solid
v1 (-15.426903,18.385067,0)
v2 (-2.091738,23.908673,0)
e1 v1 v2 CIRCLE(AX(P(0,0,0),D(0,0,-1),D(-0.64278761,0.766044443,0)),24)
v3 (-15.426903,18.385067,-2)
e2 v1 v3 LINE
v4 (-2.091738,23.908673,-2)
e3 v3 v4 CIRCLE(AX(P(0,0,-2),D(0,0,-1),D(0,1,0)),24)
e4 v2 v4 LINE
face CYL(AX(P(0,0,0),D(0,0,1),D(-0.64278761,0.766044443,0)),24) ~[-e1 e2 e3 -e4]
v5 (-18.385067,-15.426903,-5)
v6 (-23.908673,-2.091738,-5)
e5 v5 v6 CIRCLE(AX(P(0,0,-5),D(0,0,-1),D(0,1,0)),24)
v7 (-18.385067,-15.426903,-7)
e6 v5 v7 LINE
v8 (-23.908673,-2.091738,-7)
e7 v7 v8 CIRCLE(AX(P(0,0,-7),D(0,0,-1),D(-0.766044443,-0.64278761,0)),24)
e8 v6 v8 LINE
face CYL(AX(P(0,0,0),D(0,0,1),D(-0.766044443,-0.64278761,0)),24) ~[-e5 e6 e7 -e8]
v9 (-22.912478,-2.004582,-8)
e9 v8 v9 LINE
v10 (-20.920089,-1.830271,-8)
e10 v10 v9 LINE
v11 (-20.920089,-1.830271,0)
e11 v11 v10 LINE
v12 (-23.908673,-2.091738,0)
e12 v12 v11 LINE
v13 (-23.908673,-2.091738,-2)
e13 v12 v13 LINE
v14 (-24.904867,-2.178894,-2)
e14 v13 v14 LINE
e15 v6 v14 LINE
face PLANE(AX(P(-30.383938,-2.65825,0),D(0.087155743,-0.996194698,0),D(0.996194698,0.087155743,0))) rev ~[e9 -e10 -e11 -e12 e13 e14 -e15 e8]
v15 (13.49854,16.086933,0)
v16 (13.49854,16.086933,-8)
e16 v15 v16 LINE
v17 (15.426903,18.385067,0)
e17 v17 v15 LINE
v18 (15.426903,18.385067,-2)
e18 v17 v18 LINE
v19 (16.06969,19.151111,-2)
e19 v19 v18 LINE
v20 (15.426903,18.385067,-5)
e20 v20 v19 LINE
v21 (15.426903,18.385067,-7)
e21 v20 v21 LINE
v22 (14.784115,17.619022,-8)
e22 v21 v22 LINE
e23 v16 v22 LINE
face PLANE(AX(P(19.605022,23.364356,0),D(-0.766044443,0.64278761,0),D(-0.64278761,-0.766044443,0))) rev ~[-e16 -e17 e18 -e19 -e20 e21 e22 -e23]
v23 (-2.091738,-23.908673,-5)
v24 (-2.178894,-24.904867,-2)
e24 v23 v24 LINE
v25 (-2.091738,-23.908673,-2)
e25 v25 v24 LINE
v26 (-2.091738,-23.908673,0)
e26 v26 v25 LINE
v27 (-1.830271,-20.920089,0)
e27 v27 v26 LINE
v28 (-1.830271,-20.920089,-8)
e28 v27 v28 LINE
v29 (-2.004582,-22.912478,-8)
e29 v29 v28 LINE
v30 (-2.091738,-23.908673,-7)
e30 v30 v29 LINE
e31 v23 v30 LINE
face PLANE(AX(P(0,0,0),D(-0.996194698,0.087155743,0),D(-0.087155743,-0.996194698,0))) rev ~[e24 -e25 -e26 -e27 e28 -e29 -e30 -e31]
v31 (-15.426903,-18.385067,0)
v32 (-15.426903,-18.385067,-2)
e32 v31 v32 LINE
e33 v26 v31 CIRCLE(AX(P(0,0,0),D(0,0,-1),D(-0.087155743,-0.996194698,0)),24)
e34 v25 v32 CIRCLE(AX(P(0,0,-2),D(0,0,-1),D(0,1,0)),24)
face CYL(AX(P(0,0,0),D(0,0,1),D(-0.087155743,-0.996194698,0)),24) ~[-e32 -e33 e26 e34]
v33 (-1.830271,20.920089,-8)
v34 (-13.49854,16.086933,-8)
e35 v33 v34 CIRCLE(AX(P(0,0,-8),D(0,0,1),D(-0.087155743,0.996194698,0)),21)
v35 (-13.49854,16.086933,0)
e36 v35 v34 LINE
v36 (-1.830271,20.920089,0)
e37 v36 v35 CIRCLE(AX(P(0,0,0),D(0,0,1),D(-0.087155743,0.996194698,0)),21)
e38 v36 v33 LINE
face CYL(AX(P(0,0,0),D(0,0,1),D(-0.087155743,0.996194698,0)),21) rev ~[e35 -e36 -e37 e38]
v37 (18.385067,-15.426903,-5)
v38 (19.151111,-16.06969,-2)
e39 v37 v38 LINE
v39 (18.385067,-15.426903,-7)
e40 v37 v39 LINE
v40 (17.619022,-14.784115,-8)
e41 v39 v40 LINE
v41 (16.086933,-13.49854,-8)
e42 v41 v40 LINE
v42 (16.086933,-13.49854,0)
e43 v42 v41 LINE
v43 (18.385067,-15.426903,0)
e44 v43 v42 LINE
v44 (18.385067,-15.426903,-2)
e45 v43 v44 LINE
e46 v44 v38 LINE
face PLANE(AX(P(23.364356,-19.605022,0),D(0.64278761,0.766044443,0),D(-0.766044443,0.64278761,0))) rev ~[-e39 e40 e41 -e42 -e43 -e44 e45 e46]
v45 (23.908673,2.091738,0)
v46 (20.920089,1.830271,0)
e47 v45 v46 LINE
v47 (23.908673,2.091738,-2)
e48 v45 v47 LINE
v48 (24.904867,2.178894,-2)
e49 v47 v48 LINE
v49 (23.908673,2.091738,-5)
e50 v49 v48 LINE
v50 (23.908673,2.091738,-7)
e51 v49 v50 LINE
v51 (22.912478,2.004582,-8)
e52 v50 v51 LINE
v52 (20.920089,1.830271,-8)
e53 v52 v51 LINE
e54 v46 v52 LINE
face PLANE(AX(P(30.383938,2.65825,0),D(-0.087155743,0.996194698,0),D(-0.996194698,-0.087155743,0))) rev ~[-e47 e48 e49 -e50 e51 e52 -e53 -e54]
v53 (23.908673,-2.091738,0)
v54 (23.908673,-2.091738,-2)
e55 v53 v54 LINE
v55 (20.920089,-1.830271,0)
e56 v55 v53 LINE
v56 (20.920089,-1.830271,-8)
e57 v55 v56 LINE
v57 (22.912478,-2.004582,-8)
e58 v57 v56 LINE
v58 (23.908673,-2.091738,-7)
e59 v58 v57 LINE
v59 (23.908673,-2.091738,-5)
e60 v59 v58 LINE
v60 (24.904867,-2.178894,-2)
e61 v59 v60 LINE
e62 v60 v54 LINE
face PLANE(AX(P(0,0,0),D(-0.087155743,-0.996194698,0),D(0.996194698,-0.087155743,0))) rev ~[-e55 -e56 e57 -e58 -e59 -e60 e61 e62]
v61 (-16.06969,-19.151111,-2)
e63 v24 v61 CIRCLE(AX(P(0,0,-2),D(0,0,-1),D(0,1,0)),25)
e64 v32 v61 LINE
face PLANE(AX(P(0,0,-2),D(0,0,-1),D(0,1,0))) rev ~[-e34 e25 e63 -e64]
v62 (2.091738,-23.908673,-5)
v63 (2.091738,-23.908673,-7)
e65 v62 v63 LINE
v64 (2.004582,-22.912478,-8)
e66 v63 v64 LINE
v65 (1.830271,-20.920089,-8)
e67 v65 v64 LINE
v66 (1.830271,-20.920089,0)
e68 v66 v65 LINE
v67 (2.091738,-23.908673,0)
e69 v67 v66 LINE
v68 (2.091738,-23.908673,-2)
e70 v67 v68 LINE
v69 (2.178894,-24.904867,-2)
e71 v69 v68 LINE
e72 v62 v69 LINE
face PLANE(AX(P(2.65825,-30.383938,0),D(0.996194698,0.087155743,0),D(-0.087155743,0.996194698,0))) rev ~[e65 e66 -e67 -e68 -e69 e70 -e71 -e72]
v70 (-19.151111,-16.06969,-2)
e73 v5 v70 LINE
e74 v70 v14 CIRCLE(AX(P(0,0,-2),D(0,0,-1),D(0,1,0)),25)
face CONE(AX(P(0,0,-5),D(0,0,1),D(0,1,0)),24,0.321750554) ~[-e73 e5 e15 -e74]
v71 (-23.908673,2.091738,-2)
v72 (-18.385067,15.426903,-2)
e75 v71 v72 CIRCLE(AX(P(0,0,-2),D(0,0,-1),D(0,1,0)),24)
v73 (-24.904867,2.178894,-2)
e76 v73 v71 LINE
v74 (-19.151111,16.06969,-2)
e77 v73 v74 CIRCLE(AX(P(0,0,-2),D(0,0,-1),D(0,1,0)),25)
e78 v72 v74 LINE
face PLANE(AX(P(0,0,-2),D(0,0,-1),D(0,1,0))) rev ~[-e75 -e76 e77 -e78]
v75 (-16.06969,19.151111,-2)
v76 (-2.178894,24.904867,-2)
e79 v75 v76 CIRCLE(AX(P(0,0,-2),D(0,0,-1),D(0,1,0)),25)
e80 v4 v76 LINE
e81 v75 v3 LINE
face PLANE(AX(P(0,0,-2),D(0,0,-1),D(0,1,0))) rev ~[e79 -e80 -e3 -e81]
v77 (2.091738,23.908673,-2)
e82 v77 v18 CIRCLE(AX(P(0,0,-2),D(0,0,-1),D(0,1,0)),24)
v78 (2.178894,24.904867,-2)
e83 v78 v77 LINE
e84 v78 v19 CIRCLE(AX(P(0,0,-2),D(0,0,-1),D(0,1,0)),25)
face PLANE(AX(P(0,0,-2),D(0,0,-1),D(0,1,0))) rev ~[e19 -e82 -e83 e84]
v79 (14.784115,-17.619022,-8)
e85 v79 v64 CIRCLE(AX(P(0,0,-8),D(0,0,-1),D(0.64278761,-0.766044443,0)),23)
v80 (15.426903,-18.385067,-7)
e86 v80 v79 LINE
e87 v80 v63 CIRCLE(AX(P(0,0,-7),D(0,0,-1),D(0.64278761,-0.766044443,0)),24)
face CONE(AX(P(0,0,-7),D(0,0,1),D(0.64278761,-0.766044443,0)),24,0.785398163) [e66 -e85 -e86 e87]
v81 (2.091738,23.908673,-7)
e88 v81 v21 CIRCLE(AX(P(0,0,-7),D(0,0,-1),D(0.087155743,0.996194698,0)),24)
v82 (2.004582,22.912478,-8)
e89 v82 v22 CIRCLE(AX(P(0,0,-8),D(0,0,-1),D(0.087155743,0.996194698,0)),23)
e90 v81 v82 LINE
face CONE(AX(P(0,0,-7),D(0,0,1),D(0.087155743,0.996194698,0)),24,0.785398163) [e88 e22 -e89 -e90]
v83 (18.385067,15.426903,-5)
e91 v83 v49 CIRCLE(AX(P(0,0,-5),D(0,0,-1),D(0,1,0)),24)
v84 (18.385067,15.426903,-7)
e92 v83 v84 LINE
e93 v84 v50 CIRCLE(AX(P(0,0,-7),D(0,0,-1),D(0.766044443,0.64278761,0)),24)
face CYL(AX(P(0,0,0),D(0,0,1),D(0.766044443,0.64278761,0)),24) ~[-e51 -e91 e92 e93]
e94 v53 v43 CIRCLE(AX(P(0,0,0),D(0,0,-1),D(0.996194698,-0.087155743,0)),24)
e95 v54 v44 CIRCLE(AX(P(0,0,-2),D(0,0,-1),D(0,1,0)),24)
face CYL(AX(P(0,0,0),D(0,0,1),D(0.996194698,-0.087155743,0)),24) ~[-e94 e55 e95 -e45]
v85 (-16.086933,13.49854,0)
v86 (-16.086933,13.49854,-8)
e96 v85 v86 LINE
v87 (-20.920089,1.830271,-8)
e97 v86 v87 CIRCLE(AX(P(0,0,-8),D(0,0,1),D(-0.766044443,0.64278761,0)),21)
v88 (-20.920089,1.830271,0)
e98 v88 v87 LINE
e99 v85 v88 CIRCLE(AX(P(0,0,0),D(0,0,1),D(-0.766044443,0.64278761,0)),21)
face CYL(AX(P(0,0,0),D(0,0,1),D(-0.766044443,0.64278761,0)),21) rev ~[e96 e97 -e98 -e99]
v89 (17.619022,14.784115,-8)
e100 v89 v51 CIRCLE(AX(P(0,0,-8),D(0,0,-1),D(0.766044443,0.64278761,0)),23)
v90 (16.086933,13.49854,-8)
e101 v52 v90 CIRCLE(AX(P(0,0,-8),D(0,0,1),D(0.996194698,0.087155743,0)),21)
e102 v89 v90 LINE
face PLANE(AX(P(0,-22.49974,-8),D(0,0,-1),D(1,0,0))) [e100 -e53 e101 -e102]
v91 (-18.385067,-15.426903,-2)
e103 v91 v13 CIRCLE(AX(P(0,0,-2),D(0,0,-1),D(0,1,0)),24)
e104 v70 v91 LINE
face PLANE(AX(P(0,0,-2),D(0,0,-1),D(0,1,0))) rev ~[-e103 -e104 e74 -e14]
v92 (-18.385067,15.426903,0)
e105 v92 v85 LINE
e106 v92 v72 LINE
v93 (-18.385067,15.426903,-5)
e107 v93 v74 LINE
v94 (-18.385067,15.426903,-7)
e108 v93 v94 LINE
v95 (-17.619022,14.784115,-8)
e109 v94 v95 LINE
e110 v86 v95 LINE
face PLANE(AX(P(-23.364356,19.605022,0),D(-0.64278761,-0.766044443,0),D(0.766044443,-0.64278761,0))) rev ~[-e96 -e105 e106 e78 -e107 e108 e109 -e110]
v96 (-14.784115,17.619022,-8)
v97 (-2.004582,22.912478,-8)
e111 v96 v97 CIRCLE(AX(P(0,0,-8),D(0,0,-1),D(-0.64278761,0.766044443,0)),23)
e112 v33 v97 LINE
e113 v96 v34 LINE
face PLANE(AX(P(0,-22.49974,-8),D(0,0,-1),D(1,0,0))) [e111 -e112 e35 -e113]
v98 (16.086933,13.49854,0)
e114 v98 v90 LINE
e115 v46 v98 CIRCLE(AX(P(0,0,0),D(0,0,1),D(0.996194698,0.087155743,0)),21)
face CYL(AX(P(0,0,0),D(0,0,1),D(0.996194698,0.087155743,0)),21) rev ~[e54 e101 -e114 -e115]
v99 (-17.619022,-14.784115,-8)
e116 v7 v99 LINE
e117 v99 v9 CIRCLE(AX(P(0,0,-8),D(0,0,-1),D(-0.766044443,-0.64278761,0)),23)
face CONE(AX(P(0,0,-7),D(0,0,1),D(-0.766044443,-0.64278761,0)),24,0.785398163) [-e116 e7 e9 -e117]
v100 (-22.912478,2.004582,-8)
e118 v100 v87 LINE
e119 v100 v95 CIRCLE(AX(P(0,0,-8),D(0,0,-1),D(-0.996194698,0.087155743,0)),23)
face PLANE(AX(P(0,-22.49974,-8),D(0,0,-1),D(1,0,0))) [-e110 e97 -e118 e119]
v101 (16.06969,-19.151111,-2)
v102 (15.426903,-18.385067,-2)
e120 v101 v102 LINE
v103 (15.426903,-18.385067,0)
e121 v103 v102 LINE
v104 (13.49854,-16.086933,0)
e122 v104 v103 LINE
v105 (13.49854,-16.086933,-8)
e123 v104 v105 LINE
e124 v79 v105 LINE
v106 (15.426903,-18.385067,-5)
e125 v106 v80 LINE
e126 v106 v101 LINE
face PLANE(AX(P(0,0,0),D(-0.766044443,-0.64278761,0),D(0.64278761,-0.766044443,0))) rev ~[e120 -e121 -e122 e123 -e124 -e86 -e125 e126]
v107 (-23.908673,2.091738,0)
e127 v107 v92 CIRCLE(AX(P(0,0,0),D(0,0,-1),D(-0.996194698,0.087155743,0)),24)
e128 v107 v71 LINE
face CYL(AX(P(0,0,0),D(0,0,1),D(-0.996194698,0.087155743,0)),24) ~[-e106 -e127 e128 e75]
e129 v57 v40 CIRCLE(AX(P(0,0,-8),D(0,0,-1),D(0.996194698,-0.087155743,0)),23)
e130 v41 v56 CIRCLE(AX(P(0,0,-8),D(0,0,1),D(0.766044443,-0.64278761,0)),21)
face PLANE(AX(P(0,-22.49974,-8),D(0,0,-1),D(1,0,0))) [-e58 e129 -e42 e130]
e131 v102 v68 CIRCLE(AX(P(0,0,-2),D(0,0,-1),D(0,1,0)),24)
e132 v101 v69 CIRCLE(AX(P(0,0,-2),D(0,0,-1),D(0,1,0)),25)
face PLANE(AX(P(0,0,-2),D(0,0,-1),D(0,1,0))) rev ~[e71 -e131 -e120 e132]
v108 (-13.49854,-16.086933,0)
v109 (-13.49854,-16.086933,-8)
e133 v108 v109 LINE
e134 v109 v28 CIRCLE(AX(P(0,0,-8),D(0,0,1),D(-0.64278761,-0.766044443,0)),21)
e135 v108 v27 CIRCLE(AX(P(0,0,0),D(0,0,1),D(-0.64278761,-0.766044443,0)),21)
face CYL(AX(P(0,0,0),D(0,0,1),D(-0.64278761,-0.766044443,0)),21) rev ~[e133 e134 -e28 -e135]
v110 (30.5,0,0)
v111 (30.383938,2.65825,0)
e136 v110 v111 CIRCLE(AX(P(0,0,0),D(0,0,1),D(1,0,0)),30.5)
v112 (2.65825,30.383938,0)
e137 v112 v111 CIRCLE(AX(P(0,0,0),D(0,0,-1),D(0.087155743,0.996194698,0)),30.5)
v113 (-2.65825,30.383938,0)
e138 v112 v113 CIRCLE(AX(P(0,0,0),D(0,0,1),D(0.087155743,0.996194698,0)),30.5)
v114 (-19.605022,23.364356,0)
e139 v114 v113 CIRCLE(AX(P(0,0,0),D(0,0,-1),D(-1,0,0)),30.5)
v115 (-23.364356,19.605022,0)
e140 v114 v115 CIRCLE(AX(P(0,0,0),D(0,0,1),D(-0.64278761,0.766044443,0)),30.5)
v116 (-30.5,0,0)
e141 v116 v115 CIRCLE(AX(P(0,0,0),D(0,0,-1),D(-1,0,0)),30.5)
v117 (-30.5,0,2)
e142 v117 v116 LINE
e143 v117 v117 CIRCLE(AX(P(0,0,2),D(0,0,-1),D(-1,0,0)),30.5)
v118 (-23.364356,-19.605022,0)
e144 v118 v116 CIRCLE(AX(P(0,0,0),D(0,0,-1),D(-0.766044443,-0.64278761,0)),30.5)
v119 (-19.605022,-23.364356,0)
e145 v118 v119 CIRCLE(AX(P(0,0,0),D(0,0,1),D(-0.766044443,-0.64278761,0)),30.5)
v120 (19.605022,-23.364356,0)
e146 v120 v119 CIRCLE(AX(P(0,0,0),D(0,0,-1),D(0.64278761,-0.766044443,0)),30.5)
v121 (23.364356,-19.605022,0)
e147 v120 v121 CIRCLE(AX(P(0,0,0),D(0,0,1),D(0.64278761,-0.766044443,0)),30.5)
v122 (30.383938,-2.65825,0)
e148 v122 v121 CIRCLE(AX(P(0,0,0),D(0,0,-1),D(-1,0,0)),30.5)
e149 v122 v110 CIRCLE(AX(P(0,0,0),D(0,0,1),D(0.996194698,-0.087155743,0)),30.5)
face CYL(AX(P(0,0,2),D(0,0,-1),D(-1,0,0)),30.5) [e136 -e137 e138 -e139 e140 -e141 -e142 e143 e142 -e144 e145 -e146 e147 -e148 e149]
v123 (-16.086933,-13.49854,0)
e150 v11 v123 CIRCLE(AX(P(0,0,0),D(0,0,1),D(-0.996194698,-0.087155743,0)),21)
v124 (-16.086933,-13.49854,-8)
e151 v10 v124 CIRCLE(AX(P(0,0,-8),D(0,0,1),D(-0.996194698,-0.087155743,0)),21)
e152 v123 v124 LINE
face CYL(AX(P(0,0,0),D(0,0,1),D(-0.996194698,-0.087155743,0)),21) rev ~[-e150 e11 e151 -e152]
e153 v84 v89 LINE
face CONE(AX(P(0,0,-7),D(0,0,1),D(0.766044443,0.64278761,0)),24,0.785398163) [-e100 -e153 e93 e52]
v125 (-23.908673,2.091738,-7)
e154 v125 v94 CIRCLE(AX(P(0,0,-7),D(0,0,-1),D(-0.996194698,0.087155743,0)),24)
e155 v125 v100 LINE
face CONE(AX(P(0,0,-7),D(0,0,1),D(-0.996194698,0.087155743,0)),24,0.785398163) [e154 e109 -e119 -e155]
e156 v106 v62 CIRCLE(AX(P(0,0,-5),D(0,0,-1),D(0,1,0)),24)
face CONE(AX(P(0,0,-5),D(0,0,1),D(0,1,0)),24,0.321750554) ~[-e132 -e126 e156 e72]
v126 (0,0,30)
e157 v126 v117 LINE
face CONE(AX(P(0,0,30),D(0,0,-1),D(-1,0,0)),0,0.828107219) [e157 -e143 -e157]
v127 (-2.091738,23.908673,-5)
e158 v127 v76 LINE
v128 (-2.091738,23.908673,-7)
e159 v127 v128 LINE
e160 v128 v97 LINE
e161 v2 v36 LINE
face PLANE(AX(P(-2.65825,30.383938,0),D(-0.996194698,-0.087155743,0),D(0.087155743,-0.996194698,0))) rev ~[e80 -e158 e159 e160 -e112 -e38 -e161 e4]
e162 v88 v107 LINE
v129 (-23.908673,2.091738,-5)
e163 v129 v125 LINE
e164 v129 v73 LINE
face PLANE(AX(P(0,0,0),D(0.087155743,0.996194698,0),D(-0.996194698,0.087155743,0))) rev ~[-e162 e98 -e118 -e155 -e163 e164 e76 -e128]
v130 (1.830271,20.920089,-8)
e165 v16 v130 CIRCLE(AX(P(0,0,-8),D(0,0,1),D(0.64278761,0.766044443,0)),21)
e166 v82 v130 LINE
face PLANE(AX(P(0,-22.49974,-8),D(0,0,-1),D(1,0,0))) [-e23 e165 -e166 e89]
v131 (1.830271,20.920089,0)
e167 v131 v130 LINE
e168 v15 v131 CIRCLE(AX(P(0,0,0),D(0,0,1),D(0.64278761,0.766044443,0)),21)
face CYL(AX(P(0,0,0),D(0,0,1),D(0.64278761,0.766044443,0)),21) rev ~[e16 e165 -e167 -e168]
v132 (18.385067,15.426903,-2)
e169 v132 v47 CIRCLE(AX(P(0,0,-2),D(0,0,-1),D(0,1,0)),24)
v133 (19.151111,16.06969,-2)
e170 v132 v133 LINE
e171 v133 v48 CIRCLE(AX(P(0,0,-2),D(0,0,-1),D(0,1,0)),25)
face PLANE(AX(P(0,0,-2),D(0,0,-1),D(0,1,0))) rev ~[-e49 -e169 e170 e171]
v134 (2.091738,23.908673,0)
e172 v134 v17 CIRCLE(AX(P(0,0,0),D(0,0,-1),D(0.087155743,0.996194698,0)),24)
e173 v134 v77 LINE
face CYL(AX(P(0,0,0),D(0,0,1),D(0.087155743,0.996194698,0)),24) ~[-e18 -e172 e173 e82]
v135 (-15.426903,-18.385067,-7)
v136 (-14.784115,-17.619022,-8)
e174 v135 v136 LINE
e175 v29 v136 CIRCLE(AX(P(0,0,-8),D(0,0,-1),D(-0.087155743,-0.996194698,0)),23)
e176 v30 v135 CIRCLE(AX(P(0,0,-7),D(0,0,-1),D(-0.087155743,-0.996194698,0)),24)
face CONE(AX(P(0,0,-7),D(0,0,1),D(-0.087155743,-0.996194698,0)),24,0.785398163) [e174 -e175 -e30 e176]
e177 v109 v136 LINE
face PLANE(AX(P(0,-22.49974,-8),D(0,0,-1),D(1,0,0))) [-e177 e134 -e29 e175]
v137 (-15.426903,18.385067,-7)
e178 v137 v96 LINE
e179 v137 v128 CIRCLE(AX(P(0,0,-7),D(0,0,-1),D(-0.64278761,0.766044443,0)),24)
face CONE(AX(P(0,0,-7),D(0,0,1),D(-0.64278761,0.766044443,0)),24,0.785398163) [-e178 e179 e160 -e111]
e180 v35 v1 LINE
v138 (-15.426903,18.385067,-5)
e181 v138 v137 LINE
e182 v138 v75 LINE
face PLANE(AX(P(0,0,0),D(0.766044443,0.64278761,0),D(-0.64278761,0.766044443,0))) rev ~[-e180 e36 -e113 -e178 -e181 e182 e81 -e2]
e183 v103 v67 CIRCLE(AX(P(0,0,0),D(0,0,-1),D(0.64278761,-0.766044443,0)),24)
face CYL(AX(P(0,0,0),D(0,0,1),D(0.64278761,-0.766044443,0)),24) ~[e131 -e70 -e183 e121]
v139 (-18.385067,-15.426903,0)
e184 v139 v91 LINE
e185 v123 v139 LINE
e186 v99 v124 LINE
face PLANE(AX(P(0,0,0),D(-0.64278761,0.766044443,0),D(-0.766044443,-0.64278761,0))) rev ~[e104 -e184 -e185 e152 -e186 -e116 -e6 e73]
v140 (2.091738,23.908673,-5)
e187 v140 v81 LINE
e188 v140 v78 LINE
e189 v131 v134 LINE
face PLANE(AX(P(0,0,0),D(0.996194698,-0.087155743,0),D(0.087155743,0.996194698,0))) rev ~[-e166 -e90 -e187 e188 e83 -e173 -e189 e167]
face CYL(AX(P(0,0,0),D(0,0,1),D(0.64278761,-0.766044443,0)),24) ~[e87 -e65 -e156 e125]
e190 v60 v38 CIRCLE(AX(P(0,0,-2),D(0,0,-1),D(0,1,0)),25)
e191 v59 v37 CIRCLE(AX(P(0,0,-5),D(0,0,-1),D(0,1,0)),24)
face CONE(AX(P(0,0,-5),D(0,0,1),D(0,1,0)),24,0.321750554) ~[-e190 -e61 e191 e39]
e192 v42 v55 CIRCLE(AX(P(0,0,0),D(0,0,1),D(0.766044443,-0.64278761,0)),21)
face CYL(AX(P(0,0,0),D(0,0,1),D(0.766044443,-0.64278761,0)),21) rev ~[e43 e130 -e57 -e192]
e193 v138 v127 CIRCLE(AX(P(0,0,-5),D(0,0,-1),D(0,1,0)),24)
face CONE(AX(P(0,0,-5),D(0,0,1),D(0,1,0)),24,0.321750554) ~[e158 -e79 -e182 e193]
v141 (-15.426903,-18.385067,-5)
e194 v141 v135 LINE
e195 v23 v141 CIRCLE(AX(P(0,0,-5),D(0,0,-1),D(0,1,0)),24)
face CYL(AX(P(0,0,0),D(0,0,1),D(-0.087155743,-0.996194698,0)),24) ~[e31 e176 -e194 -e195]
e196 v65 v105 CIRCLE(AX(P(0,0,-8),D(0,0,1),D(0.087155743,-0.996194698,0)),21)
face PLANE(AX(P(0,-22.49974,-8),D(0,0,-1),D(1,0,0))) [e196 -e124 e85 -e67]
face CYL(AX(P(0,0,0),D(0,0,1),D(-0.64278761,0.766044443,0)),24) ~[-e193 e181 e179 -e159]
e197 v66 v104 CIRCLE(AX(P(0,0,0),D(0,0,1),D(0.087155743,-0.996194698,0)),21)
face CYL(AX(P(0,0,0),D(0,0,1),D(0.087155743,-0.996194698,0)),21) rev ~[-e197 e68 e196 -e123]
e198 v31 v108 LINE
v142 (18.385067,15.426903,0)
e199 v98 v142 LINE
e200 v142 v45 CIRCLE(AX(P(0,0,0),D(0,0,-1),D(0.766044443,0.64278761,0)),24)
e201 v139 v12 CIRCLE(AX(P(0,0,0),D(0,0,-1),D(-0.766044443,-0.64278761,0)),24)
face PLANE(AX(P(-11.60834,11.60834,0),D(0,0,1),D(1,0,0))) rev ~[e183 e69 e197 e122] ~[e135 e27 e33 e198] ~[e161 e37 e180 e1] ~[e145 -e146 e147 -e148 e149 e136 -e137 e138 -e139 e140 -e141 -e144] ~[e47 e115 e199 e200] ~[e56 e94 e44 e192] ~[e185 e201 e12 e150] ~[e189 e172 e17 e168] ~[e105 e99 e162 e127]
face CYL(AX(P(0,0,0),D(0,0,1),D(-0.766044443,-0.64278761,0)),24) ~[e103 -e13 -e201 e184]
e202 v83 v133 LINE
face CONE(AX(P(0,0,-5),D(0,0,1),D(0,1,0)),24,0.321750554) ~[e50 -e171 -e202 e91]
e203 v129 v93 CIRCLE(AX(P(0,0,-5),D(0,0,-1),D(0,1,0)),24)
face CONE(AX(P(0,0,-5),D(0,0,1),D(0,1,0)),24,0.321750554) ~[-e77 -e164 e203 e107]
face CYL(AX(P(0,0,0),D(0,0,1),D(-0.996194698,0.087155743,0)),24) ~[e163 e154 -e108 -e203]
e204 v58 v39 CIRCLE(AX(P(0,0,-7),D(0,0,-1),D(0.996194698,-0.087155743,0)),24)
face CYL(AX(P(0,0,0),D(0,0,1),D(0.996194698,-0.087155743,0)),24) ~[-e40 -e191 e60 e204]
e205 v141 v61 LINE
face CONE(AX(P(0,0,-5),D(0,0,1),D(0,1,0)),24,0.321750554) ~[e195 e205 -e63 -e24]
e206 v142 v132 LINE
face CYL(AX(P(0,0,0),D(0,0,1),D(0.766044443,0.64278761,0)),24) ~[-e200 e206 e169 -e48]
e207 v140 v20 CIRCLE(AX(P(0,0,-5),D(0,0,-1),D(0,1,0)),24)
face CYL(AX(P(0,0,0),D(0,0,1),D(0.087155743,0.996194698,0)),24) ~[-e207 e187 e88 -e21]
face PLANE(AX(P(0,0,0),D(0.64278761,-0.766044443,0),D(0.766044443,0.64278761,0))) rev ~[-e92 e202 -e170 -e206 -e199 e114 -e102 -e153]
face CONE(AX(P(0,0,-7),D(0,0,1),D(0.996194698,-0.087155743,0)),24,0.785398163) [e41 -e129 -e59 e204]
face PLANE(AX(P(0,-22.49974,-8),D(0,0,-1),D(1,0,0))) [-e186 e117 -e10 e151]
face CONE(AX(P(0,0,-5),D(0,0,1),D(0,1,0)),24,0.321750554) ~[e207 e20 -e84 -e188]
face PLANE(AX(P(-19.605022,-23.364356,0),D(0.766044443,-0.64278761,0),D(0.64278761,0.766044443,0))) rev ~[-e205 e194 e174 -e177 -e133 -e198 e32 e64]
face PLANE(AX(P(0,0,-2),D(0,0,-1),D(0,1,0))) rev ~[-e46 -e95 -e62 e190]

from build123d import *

# Parameters (mm, degrees)
F5_DEPTH  = 8
F6_SIZE   = 1
F10_DEPTH = 25


with BuildPart() as f3:
    # F2 (on Front) → F3 (revolve)
    with BuildSketch(Plane.XZ):
        Polygon((-30.5, 2), (-30.5, 0), (0, 0), (0, 30), align=None)
    revolve(axis=Axis((0, 0, 4.0188357234), (0, 0, -1)))

    # F4 (on face) → F5 (join)
    with BuildSketch(Plane(origin=(0, 0, 0), x_dir=(1, 0, 0), z_dir=(0, 0, -1))):
        with BuildLine():
            Line((1.8302705977, 20.9200886599), (2.0917378259, 23.9086727542))
            ThreePointArc((2.0917378259, 23.9086727542), (0, 24), (-2.0917378259, 23.9086727542))
            Line((-2.0917378259, 23.9086727542), (-1.8302705977, 20.9200886599))
            ThreePointArc((-1.8302705977, 20.9200886599), (0, 21), (1.8302705977, 20.9200886599))
        make_face()
        with BuildLine():
            Line((13.4985398034, 16.0869333055), (15.4269026325, 18.3850666349))
            ThreePointArc((15.4269026325, 18.3850666349), (9.1844023768, 22.1731087803), (2.0917378259, 23.9086727542))
            Line((2.0917378259, 23.9086727542), (1.8302705977, 20.9200886599))
            ThreePointArc((1.8302705977, 20.9200886599), (8.0363520797, 19.4014701827), (13.4985398034, 16.0869333055))
        make_face()
        with BuildLine():
            Line((16.0869333055, 13.4985398034), (18.3850666349, 15.4269026325))
            ThreePointArc((18.3850666349, 15.4269026325), (16.9705627485, 16.9705627485), (15.4269026325, 18.3850666349))
            Line((15.4269026325, 18.3850666349), (13.4985398034, 16.0869333055))
            ThreePointArc((13.4985398034, 16.0869333055), (14.8492424049, 14.8492424049), (16.0869333055, 13.4985398034))
        make_face()
        with BuildLine():
            Line((20.9200886599, 1.8302705977), (23.9086727542, 2.0917378259))
            ThreePointArc((23.9086727542, 2.0917378259), (22.1731087803, 9.1844023768), (18.3850666349, 15.4269026325))
            Line((18.3850666349, 15.4269026325), (16.0869333055, 13.4985398034))
            ThreePointArc((16.0869333055, 13.4985398034), (19.4014701827, 8.0363520797), (20.9200886599, 1.8302705977))
        make_face()
        with BuildLine():
            ThreePointArc((23.9086727542, -2.0917378259), (23.977157318, -1.0468652968), (24, 0))
            ThreePointArc((24, 0), (23.977157318, 1.0468652968), (23.9086727542, 2.0917378259))
            Line((23.9086727542, 2.0917378259), (20.9200886599, 1.8302705977))
            ThreePointArc((20.9200886599, 1.8302705977), (20.9800126532, 0.9160071347), (21, 0))
            ThreePointArc((21, 0), (20.9800126532, -0.9160071347), (20.9200886599, -1.8302705977))
            Line((20.9200886599, -1.8302705977), (23.9086727542, -2.0917378259))
        make_face()
        with BuildLine():
            ThreePointArc((18.3850666349, -15.4269026325), (22.1731087803, -9.1844023768), (23.9086727542, -2.0917378259))
            Line((23.9086727542, -2.0917378259), (20.9200886599, -1.8302705977))
            ThreePointArc((20.9200886599, -1.8302705977), (19.4014701827, -8.0363520797), (16.0869333055, -13.4985398034))
            Line((16.0869333055, -13.4985398034), (18.3850666349, -15.4269026325))
        make_face()
        with BuildLine():
            ThreePointArc((15.4269026325, -18.3850666349), (16.9705627485, -16.9705627485), (18.3850666349, -15.4269026325))
            Line((18.3850666349, -15.4269026325), (16.0869333055, -13.4985398034))
            ThreePointArc((16.0869333055, -13.4985398034), (14.8492424049, -14.8492424049), (13.4985398034, -16.0869333055))
            Line((13.4985398034, -16.0869333055), (15.4269026325, -18.3850666349))
        make_face()
        with BuildLine():
            ThreePointArc((2.0917378259, -23.9086727542), (9.1844023768, -22.1731087803), (15.4269026325, -18.3850666349))
            Line((15.4269026325, -18.3850666349), (13.4985398034, -16.0869333055))
            ThreePointArc((13.4985398034, -16.0869333055), (8.0363520797, -19.4014701827), (1.8302705977, -20.9200886599))
            Line((1.8302705977, -20.9200886599), (2.0917378259, -23.9086727542))
        make_face()
        with BuildLine():
            ThreePointArc((-2.0917378259, -23.9086727542), (0, -24), (2.0917378259, -23.9086727542))
            Line((2.0917378259, -23.9086727542), (1.8302705977, -20.9200886599))
            ThreePointArc((1.8302705977, -20.9200886599), (0, -21), (-1.8302705977, -20.9200886599))
            Line((-1.8302705977, -20.9200886599), (-2.0917378259, -23.9086727542))
        make_face()
        with BuildLine():
            ThreePointArc((-15.4269026325, -18.3850666349), (-9.1844023768, -22.1731087803), (-2.0917378259, -23.9086727542))
            Line((-2.0917378259, -23.9086727542), (-1.8302705977, -20.9200886599))
            ThreePointArc((-1.8302705977, -20.9200886599), (-8.0363520797, -19.4014701827), (-13.4985398034, -16.0869333055))
            Line((-13.4985398034, -16.0869333055), (-15.4269026325, -18.3850666349))
        make_face()
        with BuildLine():
            ThreePointArc((-18.3850666349, -15.4269026325), (-16.9705627485, -16.9705627485), (-15.4269026325, -18.3850666349))
            Line((-15.4269026325, -18.3850666349), (-13.4985398034, -16.0869333055))
            ThreePointArc((-13.4985398034, -16.0869333055), (-14.8492424049, -14.8492424049), (-16.0869333055, -13.4985398034))
            Line((-16.0869333055, -13.4985398034), (-18.3850666349, -15.4269026325))
        make_face()
        with BuildLine():
            ThreePointArc((-23.9086727542, -2.0917378259), (-22.1731087803, -9.1844023768), (-18.3850666349, -15.4269026325))
            Line((-18.3850666349, -15.4269026325), (-16.0869333055, -13.4985398034))
            ThreePointArc((-16.0869333055, -13.4985398034), (-19.4014701827, -8.0363520797), (-20.9200886599, -1.8302705977))
            Line((-20.9200886599, -1.8302705977), (-23.9086727542, -2.0917378259))
        make_face()
        with BuildLine():
            Line((-20.9200886599, 1.8302705977), (-23.9086727542, 2.0917378259))
            ThreePointArc((-23.9086727542, 2.0917378259), (-24, 0), (-23.9086727542, -2.0917378259))
            Line((-23.9086727542, -2.0917378259), (-20.9200886599, -1.8302705977))
            ThreePointArc((-20.9200886599, -1.8302705977), (-21, 0), (-20.9200886599, 1.8302705977))
        make_face()
        with BuildLine():
            Line((-16.0869333055, 13.4985398034), (-18.3850666349, 15.4269026325))
            ThreePointArc((-18.3850666349, 15.4269026325), (-22.1731087803, 9.1844023768), (-23.9086727542, 2.0917378259))
            Line((-23.9086727542, 2.0917378259), (-20.9200886599, 1.8302705977))
            ThreePointArc((-20.9200886599, 1.8302705977), (-19.4014701827, 8.0363520797), (-16.0869333055, 13.4985398034))
        make_face()
        with BuildLine():
            Line((-13.4985398034, 16.0869333055), (-15.4269026325, 18.3850666349))
            ThreePointArc((-15.4269026325, 18.3850666349), (-16.9705627485, 16.9705627485), (-18.3850666349, 15.4269026325))
            Line((-18.3850666349, 15.4269026325), (-16.0869333055, 13.4985398034))
            ThreePointArc((-16.0869333055, 13.4985398034), (-14.8492424049, 14.8492424049), (-13.4985398034, 16.0869333055))
        make_face()
        with BuildLine():
            Line((-1.8302705977, 20.9200886599), (-2.0917378259, 23.9086727542))
            ThreePointArc((-2.0917378259, 23.9086727542), (-9.1844023768, 22.1731087803), (-15.4269026325, 18.3850666349))
            Line((-15.4269026325, 18.3850666349), (-13.4985398034, 16.0869333055))
            ThreePointArc((-13.4985398034, 16.0869333055), (-8.0363520797, 19.4014701827), (-1.8302705977, 20.9200886599))
        make_face()
    extrude(amount=F5_DEPTH)

    # F6
    f6_edges = [f3.edges().sort_by_distance(p)[0] for p in [
        (2.091738, 23.908673, -8),
    ]]
    chamfer(f6_edges, length=F6_SIZE)

    # F7 (on Right) → F8 (revolve)
    with BuildSketch(Plane.YZ):
        Polygon((25, -2), (24, -2), (24, -5), align=None)
    revolve(axis=Axis((0, 0, 4.0188357234), (0, 0, -1)))

    # F9 (on Top) + F4 (on face) → F10 (cut)
    with BuildSketch(Plane.XY):
        with BuildLine():
            Line((-23.3643555151, 19.6050220954), (0, 0))
            Line((0, 0), (-19.6050220954, 23.3643555151))
            ThreePointArc((-19.6050220954, 23.3643555151), (-21.5667568262, 21.5667568262), (-23.3643555151, 19.6050220954))
        make_face()
        with BuildLine():
            Line((0, 0), (-30.3839382918, 2.6582501538))
            ThreePointArc((-30.3839382918, 2.6582501538), (-30.5, 0), (-30.3839382918, -2.6582501538))
            Line((-30.3839382918, -2.6582501538), (0, 0))
        make_face()
        with BuildLine():
            Line((-19.6050220954, -23.3643555151), (0, 0))
            Line((0, 0), (-23.3643555151, -19.6050220954))
            ThreePointArc((-23.3643555151, -19.6050220954), (-21.5667568262, -21.5667568262), (-19.6050220954, -23.3643555151))
        make_face()
        with BuildLine():
            Line((2.6582501538, -30.3839382918), (0, 0))
            Line((0, 0), (-2.6582501538, -30.3839382918))
            ThreePointArc((-2.6582501538, -30.3839382918), (0, -30.5), (2.6582501538, -30.3839382918))
        make_face()
        with BuildLine():
            Line((23.3643555151, -19.6050220954), (0, 0))
            Line((0, 0), (19.6050220954, -23.3643555151))
            ThreePointArc((19.6050220954, -23.3643555151), (21.5667568262, -21.5667568262), (23.3643555151, -19.6050220954))
        make_face()
        with BuildLine():
            Line((30.3839382918, 2.6582501538), (0, 0))
            Line((0, 0), (30.3839382918, -2.6582501538))
            ThreePointArc((30.3839382918, -2.6582501538), (30.4709707582, -1.3303913146), (30.5, 0))
            ThreePointArc((30.5, 0), (30.4709707582, 1.3303913146), (30.3839382918, 2.6582501538))
        make_face()
        with BuildLine():
            Line((-2.6582501538, 30.3839382918), (0, 0))
            Line((0, 0), (2.6582501538, 30.3839382918))
            ThreePointArc((2.6582501538, 30.3839382918), (0, 30.5), (-2.6582501538, 30.3839382918))
        make_face()
        with BuildLine():
            Line((19.6050220954, 23.3643555151), (0, 0))
            Line((0, 0), (23.3643555151, 19.6050220954))
            ThreePointArc((23.3643555151, 19.6050220954), (21.5667568262, 21.5667568262), (19.6050220954, 23.3643555151))
        make_face()
    with BuildSketch(Plane(origin=(0, 0, 0), x_dir=(1, 0, 0), z_dir=(0, 0, -1))):
        with BuildLine():
            ThreePointArc((-2.0917378259, 23.9086727542), (0, 24), (2.0917378259, 23.9086727542))
            Line((2.0917378259, 23.9086727542), (2.6582501538, 30.3839382918))
            ThreePointArc((2.6582501538, 30.3839382918), (0, 30.5), (-2.6582501538, 30.3839382918))
            Line((-2.6582501538, 30.3839382918), (-2.0917378259, 23.9086727542))
        make_face()
        with BuildLine():
            Line((23.3643555151, -19.6050220954), (18.3850666349, -15.4269026325))
            ThreePointArc((18.3850666349, -15.4269026325), (16.9705627485, -16.9705627485), (15.4269026325, -18.3850666349))
            Line((15.4269026325, -18.3850666349), (19.6050220954, -23.3643555151))
            ThreePointArc((19.6050220954, -23.3643555151), (21.5667568262, -21.5667568262), (23.3643555151, -19.6050220954))
        make_face()
    extrude(amount=-F10_DEPTH, dir=(0, 0, 1), mode=Mode.SUBTRACT)


solid = f3.part
